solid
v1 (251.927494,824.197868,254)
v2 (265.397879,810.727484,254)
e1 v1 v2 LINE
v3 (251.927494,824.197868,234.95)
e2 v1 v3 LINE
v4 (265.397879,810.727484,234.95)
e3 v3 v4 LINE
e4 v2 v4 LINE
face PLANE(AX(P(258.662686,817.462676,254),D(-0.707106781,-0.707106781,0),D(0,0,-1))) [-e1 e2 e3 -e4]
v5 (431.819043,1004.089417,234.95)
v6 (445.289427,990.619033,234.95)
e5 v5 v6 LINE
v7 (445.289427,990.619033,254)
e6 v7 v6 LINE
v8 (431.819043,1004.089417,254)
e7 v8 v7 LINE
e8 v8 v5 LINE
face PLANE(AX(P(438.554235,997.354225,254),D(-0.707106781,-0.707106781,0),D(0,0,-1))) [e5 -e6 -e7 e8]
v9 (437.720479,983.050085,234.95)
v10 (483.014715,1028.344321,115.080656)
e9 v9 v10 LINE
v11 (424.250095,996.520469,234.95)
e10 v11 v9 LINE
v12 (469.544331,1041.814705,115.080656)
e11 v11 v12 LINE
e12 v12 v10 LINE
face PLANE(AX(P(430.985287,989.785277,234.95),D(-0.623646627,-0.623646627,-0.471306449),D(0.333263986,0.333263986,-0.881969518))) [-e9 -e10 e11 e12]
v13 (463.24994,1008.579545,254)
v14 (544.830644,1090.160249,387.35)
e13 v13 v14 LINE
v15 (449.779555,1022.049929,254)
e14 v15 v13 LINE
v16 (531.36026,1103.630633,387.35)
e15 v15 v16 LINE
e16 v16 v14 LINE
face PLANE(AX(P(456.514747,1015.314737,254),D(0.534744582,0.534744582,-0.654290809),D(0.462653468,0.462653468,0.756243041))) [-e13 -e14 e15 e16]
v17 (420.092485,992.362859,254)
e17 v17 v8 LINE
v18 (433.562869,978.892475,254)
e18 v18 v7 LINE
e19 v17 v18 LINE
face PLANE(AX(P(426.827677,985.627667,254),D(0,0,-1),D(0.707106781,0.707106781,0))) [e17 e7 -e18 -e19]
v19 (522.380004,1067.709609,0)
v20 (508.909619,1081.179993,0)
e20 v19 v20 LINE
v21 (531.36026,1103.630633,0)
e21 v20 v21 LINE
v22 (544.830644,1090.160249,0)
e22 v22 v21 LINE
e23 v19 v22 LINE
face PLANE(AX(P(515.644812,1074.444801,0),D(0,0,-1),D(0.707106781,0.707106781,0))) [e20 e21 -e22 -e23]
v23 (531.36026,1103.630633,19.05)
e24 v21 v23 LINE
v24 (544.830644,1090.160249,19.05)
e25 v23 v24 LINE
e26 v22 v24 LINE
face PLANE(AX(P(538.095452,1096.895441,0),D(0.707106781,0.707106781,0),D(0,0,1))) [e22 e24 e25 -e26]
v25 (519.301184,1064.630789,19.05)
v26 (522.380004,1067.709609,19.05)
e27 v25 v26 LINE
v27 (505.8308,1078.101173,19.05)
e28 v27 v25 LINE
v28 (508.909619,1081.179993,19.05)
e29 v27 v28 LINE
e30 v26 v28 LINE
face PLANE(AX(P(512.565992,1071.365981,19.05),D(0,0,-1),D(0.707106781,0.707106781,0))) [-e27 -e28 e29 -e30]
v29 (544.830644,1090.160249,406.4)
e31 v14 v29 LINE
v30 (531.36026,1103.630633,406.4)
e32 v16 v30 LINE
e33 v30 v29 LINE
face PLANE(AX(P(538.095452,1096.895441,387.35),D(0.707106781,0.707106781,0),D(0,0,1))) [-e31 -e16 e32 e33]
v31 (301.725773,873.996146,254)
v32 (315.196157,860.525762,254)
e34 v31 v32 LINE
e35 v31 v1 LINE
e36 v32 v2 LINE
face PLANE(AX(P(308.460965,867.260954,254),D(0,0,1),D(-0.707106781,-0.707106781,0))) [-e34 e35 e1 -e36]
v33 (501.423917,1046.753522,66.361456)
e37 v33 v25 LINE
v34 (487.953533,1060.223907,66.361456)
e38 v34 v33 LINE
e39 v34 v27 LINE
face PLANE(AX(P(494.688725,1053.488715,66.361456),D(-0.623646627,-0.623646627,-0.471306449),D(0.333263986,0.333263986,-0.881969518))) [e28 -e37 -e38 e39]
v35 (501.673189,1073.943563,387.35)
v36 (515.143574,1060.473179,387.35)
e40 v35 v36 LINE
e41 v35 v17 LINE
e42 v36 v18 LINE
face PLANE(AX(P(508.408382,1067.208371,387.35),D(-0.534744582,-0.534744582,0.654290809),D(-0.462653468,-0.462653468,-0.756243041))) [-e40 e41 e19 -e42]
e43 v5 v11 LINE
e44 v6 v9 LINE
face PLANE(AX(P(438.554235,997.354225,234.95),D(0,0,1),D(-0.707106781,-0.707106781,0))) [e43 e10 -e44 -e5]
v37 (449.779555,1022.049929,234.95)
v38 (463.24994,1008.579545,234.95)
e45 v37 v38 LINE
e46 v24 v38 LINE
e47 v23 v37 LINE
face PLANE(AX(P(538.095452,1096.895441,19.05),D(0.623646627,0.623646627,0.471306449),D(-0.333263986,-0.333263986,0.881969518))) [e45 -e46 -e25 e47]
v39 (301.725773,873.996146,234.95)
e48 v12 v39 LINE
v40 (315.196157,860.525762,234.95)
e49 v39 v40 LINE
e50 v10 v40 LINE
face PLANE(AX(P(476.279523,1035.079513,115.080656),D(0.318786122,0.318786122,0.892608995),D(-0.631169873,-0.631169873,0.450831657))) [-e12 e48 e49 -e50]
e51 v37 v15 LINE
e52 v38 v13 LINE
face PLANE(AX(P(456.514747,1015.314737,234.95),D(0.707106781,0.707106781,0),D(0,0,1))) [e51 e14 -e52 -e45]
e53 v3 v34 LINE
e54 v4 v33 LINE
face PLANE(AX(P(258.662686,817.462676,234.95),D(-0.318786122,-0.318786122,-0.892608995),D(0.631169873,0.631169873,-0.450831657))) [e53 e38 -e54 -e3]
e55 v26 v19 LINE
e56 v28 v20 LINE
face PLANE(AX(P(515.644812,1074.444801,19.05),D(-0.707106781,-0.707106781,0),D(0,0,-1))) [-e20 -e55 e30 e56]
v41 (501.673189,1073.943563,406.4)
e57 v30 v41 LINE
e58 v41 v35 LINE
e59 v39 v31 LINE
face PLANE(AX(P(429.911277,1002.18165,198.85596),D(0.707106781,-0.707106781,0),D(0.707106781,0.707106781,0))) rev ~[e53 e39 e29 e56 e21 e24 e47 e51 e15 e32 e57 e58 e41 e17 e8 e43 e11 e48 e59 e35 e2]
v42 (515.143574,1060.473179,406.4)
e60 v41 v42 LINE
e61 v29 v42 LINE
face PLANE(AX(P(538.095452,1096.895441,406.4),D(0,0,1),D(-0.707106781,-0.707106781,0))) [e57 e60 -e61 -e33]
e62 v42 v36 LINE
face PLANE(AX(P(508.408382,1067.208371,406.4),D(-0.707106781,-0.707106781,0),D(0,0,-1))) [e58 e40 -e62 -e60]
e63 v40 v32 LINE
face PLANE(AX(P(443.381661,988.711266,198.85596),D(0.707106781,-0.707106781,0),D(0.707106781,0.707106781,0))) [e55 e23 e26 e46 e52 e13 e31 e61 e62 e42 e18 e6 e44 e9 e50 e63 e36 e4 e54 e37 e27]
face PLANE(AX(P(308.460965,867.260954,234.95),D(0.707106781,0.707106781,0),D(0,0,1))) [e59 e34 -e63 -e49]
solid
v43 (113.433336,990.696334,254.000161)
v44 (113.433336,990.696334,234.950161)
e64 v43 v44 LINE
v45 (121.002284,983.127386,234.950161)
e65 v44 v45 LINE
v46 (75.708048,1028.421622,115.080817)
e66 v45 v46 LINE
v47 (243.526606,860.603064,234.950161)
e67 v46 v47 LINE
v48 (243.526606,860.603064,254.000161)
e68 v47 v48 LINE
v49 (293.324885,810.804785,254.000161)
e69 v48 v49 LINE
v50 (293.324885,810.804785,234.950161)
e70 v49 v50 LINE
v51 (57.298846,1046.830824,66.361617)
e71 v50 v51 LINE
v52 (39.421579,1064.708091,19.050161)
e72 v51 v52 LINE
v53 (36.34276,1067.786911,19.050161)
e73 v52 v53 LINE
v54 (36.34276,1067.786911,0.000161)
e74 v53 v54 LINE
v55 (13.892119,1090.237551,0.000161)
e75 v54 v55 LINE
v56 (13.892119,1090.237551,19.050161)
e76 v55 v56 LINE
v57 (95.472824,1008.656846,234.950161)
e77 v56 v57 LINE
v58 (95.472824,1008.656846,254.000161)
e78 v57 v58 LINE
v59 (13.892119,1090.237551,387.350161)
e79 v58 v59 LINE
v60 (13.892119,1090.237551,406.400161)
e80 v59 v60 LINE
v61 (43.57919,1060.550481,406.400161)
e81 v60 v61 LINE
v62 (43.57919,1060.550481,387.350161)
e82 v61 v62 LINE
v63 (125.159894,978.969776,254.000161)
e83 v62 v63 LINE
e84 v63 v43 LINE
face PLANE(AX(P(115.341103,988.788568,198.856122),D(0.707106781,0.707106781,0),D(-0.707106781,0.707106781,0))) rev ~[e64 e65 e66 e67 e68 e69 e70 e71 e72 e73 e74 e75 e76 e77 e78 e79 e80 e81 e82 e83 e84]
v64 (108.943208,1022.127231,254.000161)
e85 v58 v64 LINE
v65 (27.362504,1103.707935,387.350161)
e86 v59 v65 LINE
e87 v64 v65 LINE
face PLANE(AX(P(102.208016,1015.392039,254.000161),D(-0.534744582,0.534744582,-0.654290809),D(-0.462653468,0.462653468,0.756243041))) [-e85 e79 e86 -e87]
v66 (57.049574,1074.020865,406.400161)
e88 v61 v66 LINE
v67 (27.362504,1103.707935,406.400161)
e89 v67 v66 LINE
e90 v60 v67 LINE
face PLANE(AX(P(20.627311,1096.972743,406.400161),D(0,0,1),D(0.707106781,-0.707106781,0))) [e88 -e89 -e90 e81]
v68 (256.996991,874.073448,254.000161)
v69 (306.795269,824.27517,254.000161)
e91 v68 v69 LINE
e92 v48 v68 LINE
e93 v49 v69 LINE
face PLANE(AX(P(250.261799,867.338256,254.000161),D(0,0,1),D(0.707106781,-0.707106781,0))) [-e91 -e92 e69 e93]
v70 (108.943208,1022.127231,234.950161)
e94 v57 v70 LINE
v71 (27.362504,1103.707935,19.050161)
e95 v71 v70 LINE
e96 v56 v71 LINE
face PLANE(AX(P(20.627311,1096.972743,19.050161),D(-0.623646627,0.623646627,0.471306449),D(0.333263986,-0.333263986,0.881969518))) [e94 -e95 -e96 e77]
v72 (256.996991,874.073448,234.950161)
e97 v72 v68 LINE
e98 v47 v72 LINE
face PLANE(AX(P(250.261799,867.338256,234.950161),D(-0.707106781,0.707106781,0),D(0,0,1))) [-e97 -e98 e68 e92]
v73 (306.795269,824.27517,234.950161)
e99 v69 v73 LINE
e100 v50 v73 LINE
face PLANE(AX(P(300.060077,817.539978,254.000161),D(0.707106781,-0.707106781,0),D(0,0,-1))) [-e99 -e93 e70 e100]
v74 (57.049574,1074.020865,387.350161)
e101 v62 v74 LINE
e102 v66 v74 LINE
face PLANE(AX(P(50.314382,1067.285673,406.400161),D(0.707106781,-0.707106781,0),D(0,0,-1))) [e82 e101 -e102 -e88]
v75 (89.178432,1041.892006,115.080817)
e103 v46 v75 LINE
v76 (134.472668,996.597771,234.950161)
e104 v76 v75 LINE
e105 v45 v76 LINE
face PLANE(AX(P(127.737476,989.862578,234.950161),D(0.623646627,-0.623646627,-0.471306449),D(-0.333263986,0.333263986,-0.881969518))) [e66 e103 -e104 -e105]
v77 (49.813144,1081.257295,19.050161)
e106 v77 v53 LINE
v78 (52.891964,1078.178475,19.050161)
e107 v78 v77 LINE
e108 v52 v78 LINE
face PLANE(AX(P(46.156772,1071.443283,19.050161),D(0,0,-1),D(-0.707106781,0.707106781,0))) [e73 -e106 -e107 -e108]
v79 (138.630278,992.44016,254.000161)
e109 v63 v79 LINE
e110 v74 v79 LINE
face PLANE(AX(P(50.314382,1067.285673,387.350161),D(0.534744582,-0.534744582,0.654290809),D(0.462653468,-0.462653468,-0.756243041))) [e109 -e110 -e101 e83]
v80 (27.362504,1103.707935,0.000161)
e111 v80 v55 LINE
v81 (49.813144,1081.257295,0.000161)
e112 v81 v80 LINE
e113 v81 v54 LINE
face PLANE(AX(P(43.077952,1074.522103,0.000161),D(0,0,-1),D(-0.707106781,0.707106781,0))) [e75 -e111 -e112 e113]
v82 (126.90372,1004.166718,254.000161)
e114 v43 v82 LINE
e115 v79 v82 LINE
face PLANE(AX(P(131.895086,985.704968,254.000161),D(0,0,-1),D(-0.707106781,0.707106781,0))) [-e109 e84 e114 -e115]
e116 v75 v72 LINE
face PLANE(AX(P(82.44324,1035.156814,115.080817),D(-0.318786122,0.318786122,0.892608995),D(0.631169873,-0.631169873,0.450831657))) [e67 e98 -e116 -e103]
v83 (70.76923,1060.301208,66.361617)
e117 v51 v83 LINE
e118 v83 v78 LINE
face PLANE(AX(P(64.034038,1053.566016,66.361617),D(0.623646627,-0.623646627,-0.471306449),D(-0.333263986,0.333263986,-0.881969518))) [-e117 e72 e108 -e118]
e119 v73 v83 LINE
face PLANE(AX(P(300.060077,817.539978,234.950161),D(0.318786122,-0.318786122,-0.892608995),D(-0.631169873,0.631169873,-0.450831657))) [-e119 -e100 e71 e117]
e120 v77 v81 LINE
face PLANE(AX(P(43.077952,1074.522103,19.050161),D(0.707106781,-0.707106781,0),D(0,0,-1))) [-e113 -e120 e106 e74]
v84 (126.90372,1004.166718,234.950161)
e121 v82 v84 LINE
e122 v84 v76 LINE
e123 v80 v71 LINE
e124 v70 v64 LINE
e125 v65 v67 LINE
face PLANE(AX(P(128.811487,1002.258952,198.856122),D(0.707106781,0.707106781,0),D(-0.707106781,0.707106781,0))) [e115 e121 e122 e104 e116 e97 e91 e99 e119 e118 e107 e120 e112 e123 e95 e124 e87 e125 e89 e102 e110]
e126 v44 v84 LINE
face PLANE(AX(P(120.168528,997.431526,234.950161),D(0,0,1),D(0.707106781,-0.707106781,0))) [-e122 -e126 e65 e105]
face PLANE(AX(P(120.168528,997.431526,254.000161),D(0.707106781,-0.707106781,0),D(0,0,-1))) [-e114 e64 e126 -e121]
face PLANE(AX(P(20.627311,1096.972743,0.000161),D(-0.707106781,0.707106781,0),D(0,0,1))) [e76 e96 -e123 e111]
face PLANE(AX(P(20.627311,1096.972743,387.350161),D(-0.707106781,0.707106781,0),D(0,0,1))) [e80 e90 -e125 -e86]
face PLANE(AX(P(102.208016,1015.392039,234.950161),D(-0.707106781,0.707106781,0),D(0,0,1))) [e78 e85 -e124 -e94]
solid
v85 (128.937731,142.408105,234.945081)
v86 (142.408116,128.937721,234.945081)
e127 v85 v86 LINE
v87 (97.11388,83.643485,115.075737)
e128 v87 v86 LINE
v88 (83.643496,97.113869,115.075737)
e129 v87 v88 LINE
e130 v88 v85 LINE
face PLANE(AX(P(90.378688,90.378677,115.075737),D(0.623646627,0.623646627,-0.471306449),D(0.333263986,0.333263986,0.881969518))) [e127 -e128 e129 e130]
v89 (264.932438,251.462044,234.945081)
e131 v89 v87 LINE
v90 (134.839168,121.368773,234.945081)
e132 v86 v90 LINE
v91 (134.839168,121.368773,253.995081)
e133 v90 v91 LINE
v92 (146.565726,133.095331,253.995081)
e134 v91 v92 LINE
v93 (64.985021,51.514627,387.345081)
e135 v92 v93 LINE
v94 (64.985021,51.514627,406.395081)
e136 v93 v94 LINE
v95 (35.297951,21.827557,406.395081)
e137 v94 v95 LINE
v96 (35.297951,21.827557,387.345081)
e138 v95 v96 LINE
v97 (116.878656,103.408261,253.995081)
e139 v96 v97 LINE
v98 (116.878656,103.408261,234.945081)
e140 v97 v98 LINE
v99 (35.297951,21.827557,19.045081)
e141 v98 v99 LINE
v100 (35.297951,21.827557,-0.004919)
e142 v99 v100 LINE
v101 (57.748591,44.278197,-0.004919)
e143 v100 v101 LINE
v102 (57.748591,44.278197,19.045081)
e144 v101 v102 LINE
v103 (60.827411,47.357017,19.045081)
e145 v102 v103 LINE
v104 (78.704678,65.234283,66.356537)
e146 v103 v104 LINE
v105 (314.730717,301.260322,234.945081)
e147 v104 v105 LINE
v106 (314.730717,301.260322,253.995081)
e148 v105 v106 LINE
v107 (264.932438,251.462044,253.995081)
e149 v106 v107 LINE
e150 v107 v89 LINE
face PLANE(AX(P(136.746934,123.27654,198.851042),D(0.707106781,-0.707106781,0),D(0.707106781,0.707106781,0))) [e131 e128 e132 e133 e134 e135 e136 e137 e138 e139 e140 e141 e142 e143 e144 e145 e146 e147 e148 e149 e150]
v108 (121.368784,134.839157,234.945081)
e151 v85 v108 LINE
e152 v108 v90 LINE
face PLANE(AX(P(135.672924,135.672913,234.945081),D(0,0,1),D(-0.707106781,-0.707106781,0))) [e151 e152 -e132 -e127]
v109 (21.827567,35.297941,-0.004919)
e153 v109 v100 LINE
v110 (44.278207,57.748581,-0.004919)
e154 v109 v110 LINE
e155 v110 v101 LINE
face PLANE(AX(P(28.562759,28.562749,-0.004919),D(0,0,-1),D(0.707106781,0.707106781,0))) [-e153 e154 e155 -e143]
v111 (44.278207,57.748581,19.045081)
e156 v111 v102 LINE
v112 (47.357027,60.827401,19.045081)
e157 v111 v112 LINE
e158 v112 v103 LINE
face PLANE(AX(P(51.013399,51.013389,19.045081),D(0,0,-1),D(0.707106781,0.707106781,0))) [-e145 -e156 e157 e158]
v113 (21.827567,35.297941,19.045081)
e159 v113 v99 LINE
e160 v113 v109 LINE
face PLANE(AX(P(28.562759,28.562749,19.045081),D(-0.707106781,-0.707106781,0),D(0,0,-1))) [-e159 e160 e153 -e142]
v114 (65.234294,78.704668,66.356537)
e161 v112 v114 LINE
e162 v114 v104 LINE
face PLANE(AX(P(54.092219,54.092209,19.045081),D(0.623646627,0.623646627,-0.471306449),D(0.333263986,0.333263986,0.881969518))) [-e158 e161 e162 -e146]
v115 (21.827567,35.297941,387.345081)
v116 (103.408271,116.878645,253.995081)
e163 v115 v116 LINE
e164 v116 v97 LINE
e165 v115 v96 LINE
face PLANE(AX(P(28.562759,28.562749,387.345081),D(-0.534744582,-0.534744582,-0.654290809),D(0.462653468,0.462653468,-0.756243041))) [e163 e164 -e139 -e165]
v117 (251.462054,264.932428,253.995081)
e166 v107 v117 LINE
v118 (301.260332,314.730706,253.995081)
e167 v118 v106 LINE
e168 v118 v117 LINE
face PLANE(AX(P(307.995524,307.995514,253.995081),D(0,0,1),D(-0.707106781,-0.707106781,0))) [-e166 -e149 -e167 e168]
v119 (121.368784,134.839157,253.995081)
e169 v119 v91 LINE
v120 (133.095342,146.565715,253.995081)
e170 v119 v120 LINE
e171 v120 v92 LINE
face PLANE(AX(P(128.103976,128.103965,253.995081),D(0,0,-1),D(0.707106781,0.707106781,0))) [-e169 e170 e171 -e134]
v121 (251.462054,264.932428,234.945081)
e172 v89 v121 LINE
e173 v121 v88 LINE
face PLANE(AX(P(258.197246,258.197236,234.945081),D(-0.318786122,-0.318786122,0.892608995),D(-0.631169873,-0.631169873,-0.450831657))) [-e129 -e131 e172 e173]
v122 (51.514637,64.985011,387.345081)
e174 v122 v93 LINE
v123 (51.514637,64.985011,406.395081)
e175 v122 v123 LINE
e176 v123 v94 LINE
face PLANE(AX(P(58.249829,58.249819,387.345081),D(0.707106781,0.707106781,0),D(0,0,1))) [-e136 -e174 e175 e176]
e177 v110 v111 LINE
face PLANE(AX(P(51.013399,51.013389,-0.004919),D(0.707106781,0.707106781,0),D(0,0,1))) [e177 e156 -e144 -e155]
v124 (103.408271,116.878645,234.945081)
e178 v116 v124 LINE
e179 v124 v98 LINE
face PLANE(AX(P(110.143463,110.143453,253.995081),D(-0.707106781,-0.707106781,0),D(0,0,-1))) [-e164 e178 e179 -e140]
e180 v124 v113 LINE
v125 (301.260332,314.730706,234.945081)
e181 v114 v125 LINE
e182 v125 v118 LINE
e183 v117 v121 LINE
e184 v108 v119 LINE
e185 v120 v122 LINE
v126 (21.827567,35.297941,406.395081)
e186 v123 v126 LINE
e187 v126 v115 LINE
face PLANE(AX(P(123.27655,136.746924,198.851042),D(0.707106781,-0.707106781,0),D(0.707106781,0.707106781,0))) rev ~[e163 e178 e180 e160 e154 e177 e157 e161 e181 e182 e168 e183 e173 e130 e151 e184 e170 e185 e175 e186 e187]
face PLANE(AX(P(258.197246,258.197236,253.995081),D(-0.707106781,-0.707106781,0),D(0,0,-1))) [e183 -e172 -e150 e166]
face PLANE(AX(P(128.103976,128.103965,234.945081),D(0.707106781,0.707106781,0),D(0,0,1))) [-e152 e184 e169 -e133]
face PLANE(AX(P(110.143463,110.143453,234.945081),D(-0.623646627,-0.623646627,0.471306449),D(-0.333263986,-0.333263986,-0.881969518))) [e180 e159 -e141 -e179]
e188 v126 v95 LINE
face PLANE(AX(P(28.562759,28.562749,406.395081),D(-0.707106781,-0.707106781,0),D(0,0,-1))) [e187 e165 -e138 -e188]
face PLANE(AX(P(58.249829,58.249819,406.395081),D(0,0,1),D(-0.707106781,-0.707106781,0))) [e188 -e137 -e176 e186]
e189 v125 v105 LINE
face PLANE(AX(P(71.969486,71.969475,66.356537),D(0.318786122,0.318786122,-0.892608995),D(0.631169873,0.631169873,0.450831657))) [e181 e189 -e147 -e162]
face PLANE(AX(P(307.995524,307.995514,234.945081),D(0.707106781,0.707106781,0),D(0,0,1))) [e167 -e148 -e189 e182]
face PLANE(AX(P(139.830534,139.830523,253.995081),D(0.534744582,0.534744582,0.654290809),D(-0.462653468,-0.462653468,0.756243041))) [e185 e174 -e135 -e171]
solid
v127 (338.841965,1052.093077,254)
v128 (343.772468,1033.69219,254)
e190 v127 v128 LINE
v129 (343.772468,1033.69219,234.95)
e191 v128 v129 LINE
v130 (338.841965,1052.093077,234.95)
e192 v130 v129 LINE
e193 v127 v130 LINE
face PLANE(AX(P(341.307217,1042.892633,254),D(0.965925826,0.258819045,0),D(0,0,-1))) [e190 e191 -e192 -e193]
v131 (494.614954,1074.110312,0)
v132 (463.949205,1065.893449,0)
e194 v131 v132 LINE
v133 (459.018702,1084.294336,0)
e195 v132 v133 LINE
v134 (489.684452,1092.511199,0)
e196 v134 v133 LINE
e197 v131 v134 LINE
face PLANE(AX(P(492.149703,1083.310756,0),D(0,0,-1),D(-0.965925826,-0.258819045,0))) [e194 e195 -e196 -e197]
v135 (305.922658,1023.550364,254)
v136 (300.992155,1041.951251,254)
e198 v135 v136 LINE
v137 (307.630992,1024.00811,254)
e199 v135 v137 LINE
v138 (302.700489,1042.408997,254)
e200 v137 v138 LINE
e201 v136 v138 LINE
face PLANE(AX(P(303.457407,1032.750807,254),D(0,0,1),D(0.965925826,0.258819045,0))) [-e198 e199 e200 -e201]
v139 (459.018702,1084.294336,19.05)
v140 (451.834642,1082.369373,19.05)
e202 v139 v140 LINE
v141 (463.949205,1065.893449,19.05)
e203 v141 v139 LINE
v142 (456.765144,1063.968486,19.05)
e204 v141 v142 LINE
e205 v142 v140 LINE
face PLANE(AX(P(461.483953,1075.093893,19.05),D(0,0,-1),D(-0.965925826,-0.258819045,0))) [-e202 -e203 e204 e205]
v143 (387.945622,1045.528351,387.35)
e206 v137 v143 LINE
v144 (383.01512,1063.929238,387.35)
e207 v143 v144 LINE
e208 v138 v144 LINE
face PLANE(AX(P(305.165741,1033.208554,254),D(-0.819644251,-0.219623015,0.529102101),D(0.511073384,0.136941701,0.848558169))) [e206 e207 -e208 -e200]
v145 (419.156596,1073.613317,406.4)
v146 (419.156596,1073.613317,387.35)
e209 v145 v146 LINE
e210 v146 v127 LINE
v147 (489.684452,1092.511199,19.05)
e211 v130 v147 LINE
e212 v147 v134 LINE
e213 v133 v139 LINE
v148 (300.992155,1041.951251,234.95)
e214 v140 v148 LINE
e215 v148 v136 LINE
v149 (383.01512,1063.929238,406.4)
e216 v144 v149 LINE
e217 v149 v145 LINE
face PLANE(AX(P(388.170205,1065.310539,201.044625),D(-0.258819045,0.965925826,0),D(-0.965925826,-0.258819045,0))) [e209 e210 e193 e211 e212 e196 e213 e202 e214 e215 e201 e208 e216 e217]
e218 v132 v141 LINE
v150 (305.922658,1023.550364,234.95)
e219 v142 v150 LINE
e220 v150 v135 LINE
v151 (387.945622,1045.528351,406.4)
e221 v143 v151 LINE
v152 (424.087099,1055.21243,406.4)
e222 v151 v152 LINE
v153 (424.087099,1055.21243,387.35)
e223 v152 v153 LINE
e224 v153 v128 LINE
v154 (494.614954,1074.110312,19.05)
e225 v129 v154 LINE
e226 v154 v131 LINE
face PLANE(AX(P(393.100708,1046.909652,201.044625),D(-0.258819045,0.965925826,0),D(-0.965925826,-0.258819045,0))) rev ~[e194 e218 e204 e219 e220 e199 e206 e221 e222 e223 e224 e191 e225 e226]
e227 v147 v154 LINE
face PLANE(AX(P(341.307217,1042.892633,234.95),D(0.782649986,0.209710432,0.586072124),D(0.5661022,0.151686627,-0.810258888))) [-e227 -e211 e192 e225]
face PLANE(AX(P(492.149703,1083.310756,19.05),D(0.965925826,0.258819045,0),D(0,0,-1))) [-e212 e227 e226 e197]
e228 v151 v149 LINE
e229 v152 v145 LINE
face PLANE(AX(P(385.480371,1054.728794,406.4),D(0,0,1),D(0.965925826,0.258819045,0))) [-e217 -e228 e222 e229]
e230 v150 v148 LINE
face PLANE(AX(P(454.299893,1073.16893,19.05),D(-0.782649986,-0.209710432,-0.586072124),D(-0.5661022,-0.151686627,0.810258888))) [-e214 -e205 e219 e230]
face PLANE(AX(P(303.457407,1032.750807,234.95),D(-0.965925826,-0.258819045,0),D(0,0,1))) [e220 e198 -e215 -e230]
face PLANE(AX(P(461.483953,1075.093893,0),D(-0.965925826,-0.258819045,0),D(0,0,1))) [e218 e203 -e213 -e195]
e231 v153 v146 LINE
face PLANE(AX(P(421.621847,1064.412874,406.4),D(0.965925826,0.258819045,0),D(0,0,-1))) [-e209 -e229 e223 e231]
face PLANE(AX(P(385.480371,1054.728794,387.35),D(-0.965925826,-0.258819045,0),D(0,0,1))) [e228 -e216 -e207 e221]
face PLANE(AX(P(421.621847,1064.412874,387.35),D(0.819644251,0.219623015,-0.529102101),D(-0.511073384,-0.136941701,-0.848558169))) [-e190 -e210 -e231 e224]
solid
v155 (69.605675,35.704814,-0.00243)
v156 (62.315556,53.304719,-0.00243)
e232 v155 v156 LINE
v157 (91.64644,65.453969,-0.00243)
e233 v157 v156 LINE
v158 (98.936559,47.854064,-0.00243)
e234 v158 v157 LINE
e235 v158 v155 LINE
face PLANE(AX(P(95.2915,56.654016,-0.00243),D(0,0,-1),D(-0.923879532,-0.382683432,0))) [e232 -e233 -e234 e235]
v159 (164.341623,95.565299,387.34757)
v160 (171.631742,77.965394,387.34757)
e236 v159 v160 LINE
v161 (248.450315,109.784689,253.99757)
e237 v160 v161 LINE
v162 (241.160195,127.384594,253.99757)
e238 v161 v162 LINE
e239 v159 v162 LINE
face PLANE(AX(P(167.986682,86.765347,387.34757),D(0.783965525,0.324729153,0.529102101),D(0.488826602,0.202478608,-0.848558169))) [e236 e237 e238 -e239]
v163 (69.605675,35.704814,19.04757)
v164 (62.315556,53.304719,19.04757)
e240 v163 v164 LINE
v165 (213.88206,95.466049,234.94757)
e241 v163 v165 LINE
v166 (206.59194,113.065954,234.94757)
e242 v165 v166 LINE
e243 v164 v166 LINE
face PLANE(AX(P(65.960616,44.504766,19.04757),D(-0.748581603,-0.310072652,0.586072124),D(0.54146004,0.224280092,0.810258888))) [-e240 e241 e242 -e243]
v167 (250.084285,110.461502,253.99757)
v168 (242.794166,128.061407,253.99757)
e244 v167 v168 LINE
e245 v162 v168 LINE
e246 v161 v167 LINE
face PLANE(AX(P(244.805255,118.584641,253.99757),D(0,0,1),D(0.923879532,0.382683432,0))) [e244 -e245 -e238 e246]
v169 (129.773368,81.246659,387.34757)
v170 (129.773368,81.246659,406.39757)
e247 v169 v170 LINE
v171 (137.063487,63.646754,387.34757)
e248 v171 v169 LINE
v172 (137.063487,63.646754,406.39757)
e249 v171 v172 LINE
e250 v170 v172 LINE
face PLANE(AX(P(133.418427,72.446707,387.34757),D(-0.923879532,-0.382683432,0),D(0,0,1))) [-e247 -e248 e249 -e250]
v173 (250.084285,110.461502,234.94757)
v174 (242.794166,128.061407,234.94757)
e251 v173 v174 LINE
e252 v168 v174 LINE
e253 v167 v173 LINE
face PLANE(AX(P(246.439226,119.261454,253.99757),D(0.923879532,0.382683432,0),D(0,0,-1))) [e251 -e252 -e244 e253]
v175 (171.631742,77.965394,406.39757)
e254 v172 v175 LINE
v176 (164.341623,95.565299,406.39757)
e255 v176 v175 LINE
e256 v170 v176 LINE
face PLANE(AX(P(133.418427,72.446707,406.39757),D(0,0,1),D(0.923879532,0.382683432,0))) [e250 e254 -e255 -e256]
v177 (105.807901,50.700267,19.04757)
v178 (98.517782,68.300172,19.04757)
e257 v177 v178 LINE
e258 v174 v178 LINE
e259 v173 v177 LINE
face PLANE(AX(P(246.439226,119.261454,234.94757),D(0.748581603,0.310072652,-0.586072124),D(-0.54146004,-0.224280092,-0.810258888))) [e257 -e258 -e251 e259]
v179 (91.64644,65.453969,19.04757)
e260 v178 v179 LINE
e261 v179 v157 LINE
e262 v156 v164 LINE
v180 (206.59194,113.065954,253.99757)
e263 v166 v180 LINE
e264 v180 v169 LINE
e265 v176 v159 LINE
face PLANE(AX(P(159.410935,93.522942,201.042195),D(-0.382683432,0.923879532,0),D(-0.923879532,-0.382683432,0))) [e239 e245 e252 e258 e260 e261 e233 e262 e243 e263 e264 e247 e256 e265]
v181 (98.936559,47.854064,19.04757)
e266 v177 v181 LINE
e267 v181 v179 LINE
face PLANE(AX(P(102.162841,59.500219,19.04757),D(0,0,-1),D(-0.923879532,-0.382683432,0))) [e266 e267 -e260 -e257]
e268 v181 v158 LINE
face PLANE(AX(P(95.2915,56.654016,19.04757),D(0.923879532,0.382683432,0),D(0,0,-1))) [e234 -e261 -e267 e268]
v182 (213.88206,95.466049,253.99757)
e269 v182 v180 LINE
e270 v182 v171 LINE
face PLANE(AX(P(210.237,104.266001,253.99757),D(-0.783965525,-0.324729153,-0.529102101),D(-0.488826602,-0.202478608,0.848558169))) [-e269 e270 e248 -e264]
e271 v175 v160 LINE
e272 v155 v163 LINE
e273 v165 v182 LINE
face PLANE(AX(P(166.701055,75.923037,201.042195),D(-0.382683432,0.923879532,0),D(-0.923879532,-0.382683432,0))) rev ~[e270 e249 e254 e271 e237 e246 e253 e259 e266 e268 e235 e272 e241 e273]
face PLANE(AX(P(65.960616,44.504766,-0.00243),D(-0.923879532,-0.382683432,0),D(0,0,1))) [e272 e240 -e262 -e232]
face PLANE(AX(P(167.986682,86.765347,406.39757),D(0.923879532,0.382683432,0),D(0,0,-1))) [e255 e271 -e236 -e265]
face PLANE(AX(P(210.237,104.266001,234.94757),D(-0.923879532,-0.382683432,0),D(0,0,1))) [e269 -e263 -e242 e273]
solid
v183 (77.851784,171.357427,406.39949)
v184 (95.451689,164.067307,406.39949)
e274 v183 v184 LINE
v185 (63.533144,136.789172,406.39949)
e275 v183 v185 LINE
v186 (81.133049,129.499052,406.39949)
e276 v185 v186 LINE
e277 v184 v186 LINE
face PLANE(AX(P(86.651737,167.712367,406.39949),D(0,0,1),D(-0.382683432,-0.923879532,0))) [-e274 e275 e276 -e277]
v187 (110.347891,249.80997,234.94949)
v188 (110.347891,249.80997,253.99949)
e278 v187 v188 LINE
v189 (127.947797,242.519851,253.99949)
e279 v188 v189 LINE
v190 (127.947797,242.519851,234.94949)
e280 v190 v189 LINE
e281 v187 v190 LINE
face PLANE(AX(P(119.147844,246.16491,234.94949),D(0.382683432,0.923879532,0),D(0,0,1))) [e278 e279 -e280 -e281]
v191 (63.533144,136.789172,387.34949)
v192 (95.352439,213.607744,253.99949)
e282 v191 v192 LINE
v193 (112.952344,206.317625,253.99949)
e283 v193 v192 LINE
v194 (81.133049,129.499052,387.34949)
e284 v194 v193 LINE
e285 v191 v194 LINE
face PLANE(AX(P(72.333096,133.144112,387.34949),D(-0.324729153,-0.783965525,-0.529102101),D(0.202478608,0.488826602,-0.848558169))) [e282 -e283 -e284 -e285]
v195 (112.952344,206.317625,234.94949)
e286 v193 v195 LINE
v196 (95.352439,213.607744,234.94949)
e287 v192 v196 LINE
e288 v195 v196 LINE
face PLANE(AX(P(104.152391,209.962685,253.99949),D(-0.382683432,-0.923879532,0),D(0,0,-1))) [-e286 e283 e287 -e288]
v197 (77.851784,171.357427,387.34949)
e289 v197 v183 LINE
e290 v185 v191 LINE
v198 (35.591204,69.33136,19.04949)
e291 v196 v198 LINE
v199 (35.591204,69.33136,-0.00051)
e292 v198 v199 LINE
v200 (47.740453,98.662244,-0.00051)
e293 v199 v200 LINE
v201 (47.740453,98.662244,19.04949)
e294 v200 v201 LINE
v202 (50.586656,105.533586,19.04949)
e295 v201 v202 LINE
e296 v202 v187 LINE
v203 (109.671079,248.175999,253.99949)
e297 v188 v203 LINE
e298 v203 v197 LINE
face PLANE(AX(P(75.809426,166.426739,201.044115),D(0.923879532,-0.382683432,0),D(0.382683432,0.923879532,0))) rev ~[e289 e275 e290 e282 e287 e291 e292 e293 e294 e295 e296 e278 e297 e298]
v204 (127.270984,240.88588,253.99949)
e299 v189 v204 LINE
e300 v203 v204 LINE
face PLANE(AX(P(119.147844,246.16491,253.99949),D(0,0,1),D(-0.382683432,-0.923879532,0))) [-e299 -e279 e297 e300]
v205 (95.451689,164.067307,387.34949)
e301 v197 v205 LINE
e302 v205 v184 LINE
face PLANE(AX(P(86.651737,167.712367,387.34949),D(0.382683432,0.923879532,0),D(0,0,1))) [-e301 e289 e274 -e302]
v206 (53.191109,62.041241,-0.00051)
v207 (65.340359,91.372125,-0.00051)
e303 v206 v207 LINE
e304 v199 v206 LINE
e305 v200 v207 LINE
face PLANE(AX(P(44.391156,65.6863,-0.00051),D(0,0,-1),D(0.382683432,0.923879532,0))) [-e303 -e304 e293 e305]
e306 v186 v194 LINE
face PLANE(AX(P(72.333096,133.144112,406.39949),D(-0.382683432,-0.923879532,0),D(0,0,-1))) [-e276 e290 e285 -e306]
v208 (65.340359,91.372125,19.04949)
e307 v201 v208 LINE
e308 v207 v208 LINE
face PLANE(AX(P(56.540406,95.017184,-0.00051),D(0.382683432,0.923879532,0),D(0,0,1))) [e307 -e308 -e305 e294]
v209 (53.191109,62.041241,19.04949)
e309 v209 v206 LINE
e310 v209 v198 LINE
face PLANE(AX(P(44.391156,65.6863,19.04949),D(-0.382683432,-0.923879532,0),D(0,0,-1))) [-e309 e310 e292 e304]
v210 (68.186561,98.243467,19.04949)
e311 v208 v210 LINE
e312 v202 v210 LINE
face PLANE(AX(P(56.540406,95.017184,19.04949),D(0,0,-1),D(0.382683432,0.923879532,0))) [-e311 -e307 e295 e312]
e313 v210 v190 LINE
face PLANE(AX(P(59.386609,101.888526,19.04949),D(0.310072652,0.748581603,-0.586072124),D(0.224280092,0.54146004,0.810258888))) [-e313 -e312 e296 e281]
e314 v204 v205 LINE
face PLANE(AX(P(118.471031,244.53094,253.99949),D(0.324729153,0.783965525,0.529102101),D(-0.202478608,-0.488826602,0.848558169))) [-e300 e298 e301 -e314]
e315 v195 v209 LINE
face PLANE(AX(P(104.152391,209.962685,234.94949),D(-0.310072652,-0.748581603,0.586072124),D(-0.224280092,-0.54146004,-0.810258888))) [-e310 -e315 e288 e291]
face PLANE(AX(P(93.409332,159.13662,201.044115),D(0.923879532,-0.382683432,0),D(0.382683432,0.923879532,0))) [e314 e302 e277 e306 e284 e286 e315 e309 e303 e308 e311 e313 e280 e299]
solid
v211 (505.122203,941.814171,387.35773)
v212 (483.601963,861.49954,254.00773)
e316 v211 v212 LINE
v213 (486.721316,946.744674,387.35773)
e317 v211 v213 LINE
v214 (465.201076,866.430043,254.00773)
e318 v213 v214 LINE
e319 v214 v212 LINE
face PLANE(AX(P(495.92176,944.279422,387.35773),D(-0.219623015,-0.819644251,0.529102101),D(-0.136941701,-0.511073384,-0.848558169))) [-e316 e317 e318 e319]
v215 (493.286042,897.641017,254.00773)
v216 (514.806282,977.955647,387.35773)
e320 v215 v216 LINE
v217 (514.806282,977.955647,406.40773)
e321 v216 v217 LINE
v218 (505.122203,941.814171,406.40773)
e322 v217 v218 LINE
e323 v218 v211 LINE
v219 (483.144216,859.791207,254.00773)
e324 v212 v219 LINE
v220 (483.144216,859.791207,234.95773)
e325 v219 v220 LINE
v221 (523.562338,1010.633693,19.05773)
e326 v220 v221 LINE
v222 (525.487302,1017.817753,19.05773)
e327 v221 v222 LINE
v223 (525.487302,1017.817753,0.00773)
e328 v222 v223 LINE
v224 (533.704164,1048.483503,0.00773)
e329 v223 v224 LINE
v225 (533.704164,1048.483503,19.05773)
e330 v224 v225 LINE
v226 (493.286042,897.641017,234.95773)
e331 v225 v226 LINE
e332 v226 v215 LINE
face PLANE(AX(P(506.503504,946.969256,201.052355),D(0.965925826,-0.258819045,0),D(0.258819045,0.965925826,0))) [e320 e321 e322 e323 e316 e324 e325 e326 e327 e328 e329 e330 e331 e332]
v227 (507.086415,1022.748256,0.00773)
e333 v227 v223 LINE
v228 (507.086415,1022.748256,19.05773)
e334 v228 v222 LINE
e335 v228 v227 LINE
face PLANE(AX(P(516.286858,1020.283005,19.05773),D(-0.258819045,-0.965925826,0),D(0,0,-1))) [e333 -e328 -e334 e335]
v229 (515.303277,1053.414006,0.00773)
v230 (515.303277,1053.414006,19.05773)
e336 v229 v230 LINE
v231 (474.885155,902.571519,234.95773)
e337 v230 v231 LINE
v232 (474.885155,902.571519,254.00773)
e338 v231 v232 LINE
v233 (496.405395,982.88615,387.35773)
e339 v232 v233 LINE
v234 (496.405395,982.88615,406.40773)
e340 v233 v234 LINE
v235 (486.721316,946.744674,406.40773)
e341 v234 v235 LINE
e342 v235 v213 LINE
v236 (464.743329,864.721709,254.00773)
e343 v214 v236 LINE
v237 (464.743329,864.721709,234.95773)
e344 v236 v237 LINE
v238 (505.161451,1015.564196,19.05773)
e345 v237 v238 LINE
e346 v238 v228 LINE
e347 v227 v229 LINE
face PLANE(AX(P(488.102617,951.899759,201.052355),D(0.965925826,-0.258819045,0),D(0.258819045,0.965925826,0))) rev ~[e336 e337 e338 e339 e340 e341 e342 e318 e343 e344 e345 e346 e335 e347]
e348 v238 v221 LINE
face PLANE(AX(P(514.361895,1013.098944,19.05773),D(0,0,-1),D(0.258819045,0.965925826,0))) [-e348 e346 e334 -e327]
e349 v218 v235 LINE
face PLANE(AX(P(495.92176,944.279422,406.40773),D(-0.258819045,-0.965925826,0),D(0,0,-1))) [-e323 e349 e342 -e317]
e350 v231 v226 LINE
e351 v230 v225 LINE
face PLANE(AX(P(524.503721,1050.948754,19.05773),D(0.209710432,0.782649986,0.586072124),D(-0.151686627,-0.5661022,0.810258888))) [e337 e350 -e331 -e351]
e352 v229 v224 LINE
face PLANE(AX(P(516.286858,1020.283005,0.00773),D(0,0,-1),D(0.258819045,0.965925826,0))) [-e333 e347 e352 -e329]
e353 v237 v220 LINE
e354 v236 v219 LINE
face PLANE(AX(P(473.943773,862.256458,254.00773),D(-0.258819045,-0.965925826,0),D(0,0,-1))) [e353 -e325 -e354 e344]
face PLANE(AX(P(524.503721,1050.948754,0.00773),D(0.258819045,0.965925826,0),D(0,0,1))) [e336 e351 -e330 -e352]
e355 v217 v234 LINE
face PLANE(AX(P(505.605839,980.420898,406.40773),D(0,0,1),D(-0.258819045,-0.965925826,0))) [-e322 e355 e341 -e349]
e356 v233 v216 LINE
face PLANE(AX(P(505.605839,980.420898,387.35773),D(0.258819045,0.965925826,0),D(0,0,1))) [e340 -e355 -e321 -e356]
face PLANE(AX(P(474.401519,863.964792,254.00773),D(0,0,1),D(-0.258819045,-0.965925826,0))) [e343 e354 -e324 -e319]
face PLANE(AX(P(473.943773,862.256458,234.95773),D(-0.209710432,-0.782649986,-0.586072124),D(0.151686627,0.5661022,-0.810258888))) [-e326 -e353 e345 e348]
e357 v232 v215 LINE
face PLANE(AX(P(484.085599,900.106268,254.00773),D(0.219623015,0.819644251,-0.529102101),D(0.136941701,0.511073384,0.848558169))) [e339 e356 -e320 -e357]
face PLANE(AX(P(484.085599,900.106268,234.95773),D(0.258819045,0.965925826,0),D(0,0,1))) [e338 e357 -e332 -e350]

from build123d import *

# Parameters (mm, degrees)
F6_DEPTH  = 9.525
F7_DEPTH  = 9.525
F10_DEPTH = 9.525
F13_DEPTH = 9.525
F15_DEPTH = 9.525
F18_DEPTH = 9.525
F21_DEPTH = 9.525


with BuildPart() as f6:
    # F3 (on face) → F6 (new body, symmetric)
    with BuildSketch(Plane(origin=(-279.3999947591, 279.3999947591, 0), x_dir=(0.7071067812, 0.7071067812, 0), z_dir=(0.7071067812, -0.7071067812, 0))):
        Polygon((1156.1131477356, 0), (1156.1131477356, 19.05), (1040.740609169, 234.95), (1040.740609169, 254), (1156.1131477356, 387.35), (1156.1131477356, 406.4), (1114.1292903237, 406.4), (1114.1292903237, 387.35), (998.7567517572, 254), (1015.340609169, 254), (1015.340609169, 234.95), (1004.6365004879, 234.95), (1068.6922232809, 115.0806556757), (831.3609417396, 234.95), (831.3609417396, 254), (760.9355412407, 254), (760.9355412407, 234.95), (1094.7267659742, 66.3614557923), (1120.0090390545, 19.05), (1124.3631477356, 19.05), (1124.3631477356, 0), align=None)
    extrude(amount=F6_DEPTH, both=True)


with BuildPart() as f7:
    # F5 (on line) → F7 (new body, symmetric)
    with BuildSketch(Plane(origin=(-237.8599100338, 887.7052693302, 0), x_dir=(-0.9659258263, -0.2588190451, 0), z_dir=(-0.2588190451, 0.9659258263, 0))):
        Polygon((-755.7615637779, 19.05), (-755.7615637779, 0), (-724.014043808, 0), (-724.014043808, 19.05), (-716.5765570262, 19.05), (-560.4129241565, 234.95), (-560.4129241565, 254), (-562.1815213486, 254), (-645.3293451592, 387.35), (-645.3293451592, 406.4), (-682.7457547188, 406.4), (-682.7457547188, 387.35), (-599.5979309082, 254), (-599.5979309082, 234.95), align=None)
    extrude(amount=F7_DEPTH, both=True)


with BuildPart() as f10:
    # F9 (on line) → F10 (new body, symmetric)
    with BuildSketch(Plane(origin=(226.6314452412, -60.7257127319, 0), x_dir=(0.2588190451, 0.9659258263, 0), z_dir=(0.9659258263, -0.2588190451, 0))):
        Polygon((1040.4578773385, 387.3577304348), (957.3100535279, 254.0077304348), (955.5414563358, 254.0077304348), (955.5414563358, 234.9577304348), (1111.7050892055, 19.0577304348), (1119.1425759873, 19.0577304348), (1119.1425759873, 0.0077304348), (1150.8900959572, 0.0077304348), (1150.8900959572, 19.0577304348), (994.7264630875, 234.9577304348), (994.7264630875, 254.0077304348), (1077.8742868981, 387.3577304348), (1077.8742868981, 406.4077304348), (1040.4578773385, 406.4077304348), align=None)
    extrude(amount=F10_DEPTH, both=True)


with BuildPart() as f13:
    # F12 (on face) → F13 (new body, symmetric)
    with BuildSketch(Plane(origin=(558.8000271954, 558.8000271954, 0), x_dir=(-0.7071067812, 0.7071067812, 0), z_dir=(0.7071067812, 0.7071067812, 0))):
        Polygon((761.091153445, 0.0001614707), (761.091153445, 19.0501614707), (645.7186148784, 234.9501614707), (645.7186148784, 254.0001614707), (761.091153445, 387.3501614707), (761.091153445, 406.4001614707), (719.1072960331, 406.4001614707), (719.1072960331, 387.3501614707), (603.7347574665, 254.0001614707), (620.3186148784, 254.0001614707), (620.3186148784, 234.9501614707), (609.6145061973, 234.9501614707), (673.6702289903, 115.0808171464), (436.338947449, 234.9501614707), (436.338947449, 254.0001614707), (365.9135469501, 254.0001614707), (365.9135469501, 234.9501614707), (699.7047716836, 66.3616172629), (724.9870447639, 19.0501614707), (729.341153445, 19.0501614707), (729.341153445, 0.0001614707), align=None)
    extrude(amount=F13_DEPTH, both=True)


with BuildPart() as f15:
    # F14 (on face) → F15 (new body, symmetric)
    with BuildSketch(Plane(origin=(5.2409e-06, -5.2409e-06, 0), x_dir=(0.7071067812, 0.7071067812, 0), z_dir=(0.7071067812, -0.7071067812, 0))):
        Polygon((127.8147583451, 115.0757371464), (191.8704811381, 234.9450814707), (181.166372457, 234.9450814707), (181.166372457, 253.9950814707), (197.7502298688, 253.9950814707), (82.3776913023, 387.3450814707), (82.3776913023, 406.3950814707), (40.3938338904, 406.3950814707), (40.3938338904, 387.3450814707), (155.766372457, 253.9950814707), (155.766372457, 234.9450814707), (40.3938338904, 19.0450814707), (40.3938338904, -0.0049185293), (72.1438338904, -0.0049185293), (72.1438338904, 19.0450814707), (76.4979425715, 19.0450814707), (101.7802156518, 66.3565372629), (435.5714403853, 234.9450814707), (435.5714403853, 253.9950814707), (365.1460398864, 253.9950814707), (365.1460398864, 234.9450814707), align=None)
    extrude(amount=F15_DEPTH, both=True)


with BuildPart() as f18:
    # F17 (on line) → F18 (new body, symmetric)
    with BuildSketch(Plane(origin=(-6.0751025032, 14.6665948559, 0), x_dir=(-0.9238795325, -0.3826834324, 0), z_dir=(-0.3826834324, 0.9238795325, 0))):
        Polygon((-188.4031181607, 387.3475704348), (-271.5509419713, 253.9975704348), (-273.3195391634, 253.9975704348), (-273.3195391634, 234.9475704348), (-117.1559062937, 19.0475704348), (-109.7184195119, 19.0475704348), (-109.7184195119, -0.0024295652), (-77.970899542, -0.0024295652), (-77.970899542, 19.0475704348), (-234.1345324117, 234.9475704348), (-234.1345324117, 253.9975704348), (-150.9867086011, 387.3475704348), (-150.9867086011, 406.3975704348), (-188.4031181607, 406.3975704348), align=None)
    extrude(amount=F18_DEPTH, both=True)


with BuildPart() as f21:
    # F20 (on line) → F21 (new body, symmetric)
    with BuildSketch(Plane(origin=(14.6666075026, -6.0751077416, 0), x_dir=(0.3826834324, 0.9238795325, 0), z_dir=(0.9238795325, -0.3826834324, 0))):
        Polygon((77.6739885453, 19.04949), (77.6739885453, -0.00051), (109.4215085152, -0.00051), (109.4215085152, 19.04949), (116.858995297, 19.04949), (273.0226281667, 234.94949), (273.0226281667, 253.99949), (271.2540309746, 253.99949), (188.106207164, 387.34949), (188.106207164, 406.39949), (150.6897976044, 406.39949), (150.6897976044, 387.34949), (233.837621415, 253.99949), (233.837621415, 234.94949), align=None)
    extrude(amount=F21_DEPTH, both=True)


solid = Compound([f6.part, f7.part, f10.part, f13.part, f15.part, f18.part, f21.part])
